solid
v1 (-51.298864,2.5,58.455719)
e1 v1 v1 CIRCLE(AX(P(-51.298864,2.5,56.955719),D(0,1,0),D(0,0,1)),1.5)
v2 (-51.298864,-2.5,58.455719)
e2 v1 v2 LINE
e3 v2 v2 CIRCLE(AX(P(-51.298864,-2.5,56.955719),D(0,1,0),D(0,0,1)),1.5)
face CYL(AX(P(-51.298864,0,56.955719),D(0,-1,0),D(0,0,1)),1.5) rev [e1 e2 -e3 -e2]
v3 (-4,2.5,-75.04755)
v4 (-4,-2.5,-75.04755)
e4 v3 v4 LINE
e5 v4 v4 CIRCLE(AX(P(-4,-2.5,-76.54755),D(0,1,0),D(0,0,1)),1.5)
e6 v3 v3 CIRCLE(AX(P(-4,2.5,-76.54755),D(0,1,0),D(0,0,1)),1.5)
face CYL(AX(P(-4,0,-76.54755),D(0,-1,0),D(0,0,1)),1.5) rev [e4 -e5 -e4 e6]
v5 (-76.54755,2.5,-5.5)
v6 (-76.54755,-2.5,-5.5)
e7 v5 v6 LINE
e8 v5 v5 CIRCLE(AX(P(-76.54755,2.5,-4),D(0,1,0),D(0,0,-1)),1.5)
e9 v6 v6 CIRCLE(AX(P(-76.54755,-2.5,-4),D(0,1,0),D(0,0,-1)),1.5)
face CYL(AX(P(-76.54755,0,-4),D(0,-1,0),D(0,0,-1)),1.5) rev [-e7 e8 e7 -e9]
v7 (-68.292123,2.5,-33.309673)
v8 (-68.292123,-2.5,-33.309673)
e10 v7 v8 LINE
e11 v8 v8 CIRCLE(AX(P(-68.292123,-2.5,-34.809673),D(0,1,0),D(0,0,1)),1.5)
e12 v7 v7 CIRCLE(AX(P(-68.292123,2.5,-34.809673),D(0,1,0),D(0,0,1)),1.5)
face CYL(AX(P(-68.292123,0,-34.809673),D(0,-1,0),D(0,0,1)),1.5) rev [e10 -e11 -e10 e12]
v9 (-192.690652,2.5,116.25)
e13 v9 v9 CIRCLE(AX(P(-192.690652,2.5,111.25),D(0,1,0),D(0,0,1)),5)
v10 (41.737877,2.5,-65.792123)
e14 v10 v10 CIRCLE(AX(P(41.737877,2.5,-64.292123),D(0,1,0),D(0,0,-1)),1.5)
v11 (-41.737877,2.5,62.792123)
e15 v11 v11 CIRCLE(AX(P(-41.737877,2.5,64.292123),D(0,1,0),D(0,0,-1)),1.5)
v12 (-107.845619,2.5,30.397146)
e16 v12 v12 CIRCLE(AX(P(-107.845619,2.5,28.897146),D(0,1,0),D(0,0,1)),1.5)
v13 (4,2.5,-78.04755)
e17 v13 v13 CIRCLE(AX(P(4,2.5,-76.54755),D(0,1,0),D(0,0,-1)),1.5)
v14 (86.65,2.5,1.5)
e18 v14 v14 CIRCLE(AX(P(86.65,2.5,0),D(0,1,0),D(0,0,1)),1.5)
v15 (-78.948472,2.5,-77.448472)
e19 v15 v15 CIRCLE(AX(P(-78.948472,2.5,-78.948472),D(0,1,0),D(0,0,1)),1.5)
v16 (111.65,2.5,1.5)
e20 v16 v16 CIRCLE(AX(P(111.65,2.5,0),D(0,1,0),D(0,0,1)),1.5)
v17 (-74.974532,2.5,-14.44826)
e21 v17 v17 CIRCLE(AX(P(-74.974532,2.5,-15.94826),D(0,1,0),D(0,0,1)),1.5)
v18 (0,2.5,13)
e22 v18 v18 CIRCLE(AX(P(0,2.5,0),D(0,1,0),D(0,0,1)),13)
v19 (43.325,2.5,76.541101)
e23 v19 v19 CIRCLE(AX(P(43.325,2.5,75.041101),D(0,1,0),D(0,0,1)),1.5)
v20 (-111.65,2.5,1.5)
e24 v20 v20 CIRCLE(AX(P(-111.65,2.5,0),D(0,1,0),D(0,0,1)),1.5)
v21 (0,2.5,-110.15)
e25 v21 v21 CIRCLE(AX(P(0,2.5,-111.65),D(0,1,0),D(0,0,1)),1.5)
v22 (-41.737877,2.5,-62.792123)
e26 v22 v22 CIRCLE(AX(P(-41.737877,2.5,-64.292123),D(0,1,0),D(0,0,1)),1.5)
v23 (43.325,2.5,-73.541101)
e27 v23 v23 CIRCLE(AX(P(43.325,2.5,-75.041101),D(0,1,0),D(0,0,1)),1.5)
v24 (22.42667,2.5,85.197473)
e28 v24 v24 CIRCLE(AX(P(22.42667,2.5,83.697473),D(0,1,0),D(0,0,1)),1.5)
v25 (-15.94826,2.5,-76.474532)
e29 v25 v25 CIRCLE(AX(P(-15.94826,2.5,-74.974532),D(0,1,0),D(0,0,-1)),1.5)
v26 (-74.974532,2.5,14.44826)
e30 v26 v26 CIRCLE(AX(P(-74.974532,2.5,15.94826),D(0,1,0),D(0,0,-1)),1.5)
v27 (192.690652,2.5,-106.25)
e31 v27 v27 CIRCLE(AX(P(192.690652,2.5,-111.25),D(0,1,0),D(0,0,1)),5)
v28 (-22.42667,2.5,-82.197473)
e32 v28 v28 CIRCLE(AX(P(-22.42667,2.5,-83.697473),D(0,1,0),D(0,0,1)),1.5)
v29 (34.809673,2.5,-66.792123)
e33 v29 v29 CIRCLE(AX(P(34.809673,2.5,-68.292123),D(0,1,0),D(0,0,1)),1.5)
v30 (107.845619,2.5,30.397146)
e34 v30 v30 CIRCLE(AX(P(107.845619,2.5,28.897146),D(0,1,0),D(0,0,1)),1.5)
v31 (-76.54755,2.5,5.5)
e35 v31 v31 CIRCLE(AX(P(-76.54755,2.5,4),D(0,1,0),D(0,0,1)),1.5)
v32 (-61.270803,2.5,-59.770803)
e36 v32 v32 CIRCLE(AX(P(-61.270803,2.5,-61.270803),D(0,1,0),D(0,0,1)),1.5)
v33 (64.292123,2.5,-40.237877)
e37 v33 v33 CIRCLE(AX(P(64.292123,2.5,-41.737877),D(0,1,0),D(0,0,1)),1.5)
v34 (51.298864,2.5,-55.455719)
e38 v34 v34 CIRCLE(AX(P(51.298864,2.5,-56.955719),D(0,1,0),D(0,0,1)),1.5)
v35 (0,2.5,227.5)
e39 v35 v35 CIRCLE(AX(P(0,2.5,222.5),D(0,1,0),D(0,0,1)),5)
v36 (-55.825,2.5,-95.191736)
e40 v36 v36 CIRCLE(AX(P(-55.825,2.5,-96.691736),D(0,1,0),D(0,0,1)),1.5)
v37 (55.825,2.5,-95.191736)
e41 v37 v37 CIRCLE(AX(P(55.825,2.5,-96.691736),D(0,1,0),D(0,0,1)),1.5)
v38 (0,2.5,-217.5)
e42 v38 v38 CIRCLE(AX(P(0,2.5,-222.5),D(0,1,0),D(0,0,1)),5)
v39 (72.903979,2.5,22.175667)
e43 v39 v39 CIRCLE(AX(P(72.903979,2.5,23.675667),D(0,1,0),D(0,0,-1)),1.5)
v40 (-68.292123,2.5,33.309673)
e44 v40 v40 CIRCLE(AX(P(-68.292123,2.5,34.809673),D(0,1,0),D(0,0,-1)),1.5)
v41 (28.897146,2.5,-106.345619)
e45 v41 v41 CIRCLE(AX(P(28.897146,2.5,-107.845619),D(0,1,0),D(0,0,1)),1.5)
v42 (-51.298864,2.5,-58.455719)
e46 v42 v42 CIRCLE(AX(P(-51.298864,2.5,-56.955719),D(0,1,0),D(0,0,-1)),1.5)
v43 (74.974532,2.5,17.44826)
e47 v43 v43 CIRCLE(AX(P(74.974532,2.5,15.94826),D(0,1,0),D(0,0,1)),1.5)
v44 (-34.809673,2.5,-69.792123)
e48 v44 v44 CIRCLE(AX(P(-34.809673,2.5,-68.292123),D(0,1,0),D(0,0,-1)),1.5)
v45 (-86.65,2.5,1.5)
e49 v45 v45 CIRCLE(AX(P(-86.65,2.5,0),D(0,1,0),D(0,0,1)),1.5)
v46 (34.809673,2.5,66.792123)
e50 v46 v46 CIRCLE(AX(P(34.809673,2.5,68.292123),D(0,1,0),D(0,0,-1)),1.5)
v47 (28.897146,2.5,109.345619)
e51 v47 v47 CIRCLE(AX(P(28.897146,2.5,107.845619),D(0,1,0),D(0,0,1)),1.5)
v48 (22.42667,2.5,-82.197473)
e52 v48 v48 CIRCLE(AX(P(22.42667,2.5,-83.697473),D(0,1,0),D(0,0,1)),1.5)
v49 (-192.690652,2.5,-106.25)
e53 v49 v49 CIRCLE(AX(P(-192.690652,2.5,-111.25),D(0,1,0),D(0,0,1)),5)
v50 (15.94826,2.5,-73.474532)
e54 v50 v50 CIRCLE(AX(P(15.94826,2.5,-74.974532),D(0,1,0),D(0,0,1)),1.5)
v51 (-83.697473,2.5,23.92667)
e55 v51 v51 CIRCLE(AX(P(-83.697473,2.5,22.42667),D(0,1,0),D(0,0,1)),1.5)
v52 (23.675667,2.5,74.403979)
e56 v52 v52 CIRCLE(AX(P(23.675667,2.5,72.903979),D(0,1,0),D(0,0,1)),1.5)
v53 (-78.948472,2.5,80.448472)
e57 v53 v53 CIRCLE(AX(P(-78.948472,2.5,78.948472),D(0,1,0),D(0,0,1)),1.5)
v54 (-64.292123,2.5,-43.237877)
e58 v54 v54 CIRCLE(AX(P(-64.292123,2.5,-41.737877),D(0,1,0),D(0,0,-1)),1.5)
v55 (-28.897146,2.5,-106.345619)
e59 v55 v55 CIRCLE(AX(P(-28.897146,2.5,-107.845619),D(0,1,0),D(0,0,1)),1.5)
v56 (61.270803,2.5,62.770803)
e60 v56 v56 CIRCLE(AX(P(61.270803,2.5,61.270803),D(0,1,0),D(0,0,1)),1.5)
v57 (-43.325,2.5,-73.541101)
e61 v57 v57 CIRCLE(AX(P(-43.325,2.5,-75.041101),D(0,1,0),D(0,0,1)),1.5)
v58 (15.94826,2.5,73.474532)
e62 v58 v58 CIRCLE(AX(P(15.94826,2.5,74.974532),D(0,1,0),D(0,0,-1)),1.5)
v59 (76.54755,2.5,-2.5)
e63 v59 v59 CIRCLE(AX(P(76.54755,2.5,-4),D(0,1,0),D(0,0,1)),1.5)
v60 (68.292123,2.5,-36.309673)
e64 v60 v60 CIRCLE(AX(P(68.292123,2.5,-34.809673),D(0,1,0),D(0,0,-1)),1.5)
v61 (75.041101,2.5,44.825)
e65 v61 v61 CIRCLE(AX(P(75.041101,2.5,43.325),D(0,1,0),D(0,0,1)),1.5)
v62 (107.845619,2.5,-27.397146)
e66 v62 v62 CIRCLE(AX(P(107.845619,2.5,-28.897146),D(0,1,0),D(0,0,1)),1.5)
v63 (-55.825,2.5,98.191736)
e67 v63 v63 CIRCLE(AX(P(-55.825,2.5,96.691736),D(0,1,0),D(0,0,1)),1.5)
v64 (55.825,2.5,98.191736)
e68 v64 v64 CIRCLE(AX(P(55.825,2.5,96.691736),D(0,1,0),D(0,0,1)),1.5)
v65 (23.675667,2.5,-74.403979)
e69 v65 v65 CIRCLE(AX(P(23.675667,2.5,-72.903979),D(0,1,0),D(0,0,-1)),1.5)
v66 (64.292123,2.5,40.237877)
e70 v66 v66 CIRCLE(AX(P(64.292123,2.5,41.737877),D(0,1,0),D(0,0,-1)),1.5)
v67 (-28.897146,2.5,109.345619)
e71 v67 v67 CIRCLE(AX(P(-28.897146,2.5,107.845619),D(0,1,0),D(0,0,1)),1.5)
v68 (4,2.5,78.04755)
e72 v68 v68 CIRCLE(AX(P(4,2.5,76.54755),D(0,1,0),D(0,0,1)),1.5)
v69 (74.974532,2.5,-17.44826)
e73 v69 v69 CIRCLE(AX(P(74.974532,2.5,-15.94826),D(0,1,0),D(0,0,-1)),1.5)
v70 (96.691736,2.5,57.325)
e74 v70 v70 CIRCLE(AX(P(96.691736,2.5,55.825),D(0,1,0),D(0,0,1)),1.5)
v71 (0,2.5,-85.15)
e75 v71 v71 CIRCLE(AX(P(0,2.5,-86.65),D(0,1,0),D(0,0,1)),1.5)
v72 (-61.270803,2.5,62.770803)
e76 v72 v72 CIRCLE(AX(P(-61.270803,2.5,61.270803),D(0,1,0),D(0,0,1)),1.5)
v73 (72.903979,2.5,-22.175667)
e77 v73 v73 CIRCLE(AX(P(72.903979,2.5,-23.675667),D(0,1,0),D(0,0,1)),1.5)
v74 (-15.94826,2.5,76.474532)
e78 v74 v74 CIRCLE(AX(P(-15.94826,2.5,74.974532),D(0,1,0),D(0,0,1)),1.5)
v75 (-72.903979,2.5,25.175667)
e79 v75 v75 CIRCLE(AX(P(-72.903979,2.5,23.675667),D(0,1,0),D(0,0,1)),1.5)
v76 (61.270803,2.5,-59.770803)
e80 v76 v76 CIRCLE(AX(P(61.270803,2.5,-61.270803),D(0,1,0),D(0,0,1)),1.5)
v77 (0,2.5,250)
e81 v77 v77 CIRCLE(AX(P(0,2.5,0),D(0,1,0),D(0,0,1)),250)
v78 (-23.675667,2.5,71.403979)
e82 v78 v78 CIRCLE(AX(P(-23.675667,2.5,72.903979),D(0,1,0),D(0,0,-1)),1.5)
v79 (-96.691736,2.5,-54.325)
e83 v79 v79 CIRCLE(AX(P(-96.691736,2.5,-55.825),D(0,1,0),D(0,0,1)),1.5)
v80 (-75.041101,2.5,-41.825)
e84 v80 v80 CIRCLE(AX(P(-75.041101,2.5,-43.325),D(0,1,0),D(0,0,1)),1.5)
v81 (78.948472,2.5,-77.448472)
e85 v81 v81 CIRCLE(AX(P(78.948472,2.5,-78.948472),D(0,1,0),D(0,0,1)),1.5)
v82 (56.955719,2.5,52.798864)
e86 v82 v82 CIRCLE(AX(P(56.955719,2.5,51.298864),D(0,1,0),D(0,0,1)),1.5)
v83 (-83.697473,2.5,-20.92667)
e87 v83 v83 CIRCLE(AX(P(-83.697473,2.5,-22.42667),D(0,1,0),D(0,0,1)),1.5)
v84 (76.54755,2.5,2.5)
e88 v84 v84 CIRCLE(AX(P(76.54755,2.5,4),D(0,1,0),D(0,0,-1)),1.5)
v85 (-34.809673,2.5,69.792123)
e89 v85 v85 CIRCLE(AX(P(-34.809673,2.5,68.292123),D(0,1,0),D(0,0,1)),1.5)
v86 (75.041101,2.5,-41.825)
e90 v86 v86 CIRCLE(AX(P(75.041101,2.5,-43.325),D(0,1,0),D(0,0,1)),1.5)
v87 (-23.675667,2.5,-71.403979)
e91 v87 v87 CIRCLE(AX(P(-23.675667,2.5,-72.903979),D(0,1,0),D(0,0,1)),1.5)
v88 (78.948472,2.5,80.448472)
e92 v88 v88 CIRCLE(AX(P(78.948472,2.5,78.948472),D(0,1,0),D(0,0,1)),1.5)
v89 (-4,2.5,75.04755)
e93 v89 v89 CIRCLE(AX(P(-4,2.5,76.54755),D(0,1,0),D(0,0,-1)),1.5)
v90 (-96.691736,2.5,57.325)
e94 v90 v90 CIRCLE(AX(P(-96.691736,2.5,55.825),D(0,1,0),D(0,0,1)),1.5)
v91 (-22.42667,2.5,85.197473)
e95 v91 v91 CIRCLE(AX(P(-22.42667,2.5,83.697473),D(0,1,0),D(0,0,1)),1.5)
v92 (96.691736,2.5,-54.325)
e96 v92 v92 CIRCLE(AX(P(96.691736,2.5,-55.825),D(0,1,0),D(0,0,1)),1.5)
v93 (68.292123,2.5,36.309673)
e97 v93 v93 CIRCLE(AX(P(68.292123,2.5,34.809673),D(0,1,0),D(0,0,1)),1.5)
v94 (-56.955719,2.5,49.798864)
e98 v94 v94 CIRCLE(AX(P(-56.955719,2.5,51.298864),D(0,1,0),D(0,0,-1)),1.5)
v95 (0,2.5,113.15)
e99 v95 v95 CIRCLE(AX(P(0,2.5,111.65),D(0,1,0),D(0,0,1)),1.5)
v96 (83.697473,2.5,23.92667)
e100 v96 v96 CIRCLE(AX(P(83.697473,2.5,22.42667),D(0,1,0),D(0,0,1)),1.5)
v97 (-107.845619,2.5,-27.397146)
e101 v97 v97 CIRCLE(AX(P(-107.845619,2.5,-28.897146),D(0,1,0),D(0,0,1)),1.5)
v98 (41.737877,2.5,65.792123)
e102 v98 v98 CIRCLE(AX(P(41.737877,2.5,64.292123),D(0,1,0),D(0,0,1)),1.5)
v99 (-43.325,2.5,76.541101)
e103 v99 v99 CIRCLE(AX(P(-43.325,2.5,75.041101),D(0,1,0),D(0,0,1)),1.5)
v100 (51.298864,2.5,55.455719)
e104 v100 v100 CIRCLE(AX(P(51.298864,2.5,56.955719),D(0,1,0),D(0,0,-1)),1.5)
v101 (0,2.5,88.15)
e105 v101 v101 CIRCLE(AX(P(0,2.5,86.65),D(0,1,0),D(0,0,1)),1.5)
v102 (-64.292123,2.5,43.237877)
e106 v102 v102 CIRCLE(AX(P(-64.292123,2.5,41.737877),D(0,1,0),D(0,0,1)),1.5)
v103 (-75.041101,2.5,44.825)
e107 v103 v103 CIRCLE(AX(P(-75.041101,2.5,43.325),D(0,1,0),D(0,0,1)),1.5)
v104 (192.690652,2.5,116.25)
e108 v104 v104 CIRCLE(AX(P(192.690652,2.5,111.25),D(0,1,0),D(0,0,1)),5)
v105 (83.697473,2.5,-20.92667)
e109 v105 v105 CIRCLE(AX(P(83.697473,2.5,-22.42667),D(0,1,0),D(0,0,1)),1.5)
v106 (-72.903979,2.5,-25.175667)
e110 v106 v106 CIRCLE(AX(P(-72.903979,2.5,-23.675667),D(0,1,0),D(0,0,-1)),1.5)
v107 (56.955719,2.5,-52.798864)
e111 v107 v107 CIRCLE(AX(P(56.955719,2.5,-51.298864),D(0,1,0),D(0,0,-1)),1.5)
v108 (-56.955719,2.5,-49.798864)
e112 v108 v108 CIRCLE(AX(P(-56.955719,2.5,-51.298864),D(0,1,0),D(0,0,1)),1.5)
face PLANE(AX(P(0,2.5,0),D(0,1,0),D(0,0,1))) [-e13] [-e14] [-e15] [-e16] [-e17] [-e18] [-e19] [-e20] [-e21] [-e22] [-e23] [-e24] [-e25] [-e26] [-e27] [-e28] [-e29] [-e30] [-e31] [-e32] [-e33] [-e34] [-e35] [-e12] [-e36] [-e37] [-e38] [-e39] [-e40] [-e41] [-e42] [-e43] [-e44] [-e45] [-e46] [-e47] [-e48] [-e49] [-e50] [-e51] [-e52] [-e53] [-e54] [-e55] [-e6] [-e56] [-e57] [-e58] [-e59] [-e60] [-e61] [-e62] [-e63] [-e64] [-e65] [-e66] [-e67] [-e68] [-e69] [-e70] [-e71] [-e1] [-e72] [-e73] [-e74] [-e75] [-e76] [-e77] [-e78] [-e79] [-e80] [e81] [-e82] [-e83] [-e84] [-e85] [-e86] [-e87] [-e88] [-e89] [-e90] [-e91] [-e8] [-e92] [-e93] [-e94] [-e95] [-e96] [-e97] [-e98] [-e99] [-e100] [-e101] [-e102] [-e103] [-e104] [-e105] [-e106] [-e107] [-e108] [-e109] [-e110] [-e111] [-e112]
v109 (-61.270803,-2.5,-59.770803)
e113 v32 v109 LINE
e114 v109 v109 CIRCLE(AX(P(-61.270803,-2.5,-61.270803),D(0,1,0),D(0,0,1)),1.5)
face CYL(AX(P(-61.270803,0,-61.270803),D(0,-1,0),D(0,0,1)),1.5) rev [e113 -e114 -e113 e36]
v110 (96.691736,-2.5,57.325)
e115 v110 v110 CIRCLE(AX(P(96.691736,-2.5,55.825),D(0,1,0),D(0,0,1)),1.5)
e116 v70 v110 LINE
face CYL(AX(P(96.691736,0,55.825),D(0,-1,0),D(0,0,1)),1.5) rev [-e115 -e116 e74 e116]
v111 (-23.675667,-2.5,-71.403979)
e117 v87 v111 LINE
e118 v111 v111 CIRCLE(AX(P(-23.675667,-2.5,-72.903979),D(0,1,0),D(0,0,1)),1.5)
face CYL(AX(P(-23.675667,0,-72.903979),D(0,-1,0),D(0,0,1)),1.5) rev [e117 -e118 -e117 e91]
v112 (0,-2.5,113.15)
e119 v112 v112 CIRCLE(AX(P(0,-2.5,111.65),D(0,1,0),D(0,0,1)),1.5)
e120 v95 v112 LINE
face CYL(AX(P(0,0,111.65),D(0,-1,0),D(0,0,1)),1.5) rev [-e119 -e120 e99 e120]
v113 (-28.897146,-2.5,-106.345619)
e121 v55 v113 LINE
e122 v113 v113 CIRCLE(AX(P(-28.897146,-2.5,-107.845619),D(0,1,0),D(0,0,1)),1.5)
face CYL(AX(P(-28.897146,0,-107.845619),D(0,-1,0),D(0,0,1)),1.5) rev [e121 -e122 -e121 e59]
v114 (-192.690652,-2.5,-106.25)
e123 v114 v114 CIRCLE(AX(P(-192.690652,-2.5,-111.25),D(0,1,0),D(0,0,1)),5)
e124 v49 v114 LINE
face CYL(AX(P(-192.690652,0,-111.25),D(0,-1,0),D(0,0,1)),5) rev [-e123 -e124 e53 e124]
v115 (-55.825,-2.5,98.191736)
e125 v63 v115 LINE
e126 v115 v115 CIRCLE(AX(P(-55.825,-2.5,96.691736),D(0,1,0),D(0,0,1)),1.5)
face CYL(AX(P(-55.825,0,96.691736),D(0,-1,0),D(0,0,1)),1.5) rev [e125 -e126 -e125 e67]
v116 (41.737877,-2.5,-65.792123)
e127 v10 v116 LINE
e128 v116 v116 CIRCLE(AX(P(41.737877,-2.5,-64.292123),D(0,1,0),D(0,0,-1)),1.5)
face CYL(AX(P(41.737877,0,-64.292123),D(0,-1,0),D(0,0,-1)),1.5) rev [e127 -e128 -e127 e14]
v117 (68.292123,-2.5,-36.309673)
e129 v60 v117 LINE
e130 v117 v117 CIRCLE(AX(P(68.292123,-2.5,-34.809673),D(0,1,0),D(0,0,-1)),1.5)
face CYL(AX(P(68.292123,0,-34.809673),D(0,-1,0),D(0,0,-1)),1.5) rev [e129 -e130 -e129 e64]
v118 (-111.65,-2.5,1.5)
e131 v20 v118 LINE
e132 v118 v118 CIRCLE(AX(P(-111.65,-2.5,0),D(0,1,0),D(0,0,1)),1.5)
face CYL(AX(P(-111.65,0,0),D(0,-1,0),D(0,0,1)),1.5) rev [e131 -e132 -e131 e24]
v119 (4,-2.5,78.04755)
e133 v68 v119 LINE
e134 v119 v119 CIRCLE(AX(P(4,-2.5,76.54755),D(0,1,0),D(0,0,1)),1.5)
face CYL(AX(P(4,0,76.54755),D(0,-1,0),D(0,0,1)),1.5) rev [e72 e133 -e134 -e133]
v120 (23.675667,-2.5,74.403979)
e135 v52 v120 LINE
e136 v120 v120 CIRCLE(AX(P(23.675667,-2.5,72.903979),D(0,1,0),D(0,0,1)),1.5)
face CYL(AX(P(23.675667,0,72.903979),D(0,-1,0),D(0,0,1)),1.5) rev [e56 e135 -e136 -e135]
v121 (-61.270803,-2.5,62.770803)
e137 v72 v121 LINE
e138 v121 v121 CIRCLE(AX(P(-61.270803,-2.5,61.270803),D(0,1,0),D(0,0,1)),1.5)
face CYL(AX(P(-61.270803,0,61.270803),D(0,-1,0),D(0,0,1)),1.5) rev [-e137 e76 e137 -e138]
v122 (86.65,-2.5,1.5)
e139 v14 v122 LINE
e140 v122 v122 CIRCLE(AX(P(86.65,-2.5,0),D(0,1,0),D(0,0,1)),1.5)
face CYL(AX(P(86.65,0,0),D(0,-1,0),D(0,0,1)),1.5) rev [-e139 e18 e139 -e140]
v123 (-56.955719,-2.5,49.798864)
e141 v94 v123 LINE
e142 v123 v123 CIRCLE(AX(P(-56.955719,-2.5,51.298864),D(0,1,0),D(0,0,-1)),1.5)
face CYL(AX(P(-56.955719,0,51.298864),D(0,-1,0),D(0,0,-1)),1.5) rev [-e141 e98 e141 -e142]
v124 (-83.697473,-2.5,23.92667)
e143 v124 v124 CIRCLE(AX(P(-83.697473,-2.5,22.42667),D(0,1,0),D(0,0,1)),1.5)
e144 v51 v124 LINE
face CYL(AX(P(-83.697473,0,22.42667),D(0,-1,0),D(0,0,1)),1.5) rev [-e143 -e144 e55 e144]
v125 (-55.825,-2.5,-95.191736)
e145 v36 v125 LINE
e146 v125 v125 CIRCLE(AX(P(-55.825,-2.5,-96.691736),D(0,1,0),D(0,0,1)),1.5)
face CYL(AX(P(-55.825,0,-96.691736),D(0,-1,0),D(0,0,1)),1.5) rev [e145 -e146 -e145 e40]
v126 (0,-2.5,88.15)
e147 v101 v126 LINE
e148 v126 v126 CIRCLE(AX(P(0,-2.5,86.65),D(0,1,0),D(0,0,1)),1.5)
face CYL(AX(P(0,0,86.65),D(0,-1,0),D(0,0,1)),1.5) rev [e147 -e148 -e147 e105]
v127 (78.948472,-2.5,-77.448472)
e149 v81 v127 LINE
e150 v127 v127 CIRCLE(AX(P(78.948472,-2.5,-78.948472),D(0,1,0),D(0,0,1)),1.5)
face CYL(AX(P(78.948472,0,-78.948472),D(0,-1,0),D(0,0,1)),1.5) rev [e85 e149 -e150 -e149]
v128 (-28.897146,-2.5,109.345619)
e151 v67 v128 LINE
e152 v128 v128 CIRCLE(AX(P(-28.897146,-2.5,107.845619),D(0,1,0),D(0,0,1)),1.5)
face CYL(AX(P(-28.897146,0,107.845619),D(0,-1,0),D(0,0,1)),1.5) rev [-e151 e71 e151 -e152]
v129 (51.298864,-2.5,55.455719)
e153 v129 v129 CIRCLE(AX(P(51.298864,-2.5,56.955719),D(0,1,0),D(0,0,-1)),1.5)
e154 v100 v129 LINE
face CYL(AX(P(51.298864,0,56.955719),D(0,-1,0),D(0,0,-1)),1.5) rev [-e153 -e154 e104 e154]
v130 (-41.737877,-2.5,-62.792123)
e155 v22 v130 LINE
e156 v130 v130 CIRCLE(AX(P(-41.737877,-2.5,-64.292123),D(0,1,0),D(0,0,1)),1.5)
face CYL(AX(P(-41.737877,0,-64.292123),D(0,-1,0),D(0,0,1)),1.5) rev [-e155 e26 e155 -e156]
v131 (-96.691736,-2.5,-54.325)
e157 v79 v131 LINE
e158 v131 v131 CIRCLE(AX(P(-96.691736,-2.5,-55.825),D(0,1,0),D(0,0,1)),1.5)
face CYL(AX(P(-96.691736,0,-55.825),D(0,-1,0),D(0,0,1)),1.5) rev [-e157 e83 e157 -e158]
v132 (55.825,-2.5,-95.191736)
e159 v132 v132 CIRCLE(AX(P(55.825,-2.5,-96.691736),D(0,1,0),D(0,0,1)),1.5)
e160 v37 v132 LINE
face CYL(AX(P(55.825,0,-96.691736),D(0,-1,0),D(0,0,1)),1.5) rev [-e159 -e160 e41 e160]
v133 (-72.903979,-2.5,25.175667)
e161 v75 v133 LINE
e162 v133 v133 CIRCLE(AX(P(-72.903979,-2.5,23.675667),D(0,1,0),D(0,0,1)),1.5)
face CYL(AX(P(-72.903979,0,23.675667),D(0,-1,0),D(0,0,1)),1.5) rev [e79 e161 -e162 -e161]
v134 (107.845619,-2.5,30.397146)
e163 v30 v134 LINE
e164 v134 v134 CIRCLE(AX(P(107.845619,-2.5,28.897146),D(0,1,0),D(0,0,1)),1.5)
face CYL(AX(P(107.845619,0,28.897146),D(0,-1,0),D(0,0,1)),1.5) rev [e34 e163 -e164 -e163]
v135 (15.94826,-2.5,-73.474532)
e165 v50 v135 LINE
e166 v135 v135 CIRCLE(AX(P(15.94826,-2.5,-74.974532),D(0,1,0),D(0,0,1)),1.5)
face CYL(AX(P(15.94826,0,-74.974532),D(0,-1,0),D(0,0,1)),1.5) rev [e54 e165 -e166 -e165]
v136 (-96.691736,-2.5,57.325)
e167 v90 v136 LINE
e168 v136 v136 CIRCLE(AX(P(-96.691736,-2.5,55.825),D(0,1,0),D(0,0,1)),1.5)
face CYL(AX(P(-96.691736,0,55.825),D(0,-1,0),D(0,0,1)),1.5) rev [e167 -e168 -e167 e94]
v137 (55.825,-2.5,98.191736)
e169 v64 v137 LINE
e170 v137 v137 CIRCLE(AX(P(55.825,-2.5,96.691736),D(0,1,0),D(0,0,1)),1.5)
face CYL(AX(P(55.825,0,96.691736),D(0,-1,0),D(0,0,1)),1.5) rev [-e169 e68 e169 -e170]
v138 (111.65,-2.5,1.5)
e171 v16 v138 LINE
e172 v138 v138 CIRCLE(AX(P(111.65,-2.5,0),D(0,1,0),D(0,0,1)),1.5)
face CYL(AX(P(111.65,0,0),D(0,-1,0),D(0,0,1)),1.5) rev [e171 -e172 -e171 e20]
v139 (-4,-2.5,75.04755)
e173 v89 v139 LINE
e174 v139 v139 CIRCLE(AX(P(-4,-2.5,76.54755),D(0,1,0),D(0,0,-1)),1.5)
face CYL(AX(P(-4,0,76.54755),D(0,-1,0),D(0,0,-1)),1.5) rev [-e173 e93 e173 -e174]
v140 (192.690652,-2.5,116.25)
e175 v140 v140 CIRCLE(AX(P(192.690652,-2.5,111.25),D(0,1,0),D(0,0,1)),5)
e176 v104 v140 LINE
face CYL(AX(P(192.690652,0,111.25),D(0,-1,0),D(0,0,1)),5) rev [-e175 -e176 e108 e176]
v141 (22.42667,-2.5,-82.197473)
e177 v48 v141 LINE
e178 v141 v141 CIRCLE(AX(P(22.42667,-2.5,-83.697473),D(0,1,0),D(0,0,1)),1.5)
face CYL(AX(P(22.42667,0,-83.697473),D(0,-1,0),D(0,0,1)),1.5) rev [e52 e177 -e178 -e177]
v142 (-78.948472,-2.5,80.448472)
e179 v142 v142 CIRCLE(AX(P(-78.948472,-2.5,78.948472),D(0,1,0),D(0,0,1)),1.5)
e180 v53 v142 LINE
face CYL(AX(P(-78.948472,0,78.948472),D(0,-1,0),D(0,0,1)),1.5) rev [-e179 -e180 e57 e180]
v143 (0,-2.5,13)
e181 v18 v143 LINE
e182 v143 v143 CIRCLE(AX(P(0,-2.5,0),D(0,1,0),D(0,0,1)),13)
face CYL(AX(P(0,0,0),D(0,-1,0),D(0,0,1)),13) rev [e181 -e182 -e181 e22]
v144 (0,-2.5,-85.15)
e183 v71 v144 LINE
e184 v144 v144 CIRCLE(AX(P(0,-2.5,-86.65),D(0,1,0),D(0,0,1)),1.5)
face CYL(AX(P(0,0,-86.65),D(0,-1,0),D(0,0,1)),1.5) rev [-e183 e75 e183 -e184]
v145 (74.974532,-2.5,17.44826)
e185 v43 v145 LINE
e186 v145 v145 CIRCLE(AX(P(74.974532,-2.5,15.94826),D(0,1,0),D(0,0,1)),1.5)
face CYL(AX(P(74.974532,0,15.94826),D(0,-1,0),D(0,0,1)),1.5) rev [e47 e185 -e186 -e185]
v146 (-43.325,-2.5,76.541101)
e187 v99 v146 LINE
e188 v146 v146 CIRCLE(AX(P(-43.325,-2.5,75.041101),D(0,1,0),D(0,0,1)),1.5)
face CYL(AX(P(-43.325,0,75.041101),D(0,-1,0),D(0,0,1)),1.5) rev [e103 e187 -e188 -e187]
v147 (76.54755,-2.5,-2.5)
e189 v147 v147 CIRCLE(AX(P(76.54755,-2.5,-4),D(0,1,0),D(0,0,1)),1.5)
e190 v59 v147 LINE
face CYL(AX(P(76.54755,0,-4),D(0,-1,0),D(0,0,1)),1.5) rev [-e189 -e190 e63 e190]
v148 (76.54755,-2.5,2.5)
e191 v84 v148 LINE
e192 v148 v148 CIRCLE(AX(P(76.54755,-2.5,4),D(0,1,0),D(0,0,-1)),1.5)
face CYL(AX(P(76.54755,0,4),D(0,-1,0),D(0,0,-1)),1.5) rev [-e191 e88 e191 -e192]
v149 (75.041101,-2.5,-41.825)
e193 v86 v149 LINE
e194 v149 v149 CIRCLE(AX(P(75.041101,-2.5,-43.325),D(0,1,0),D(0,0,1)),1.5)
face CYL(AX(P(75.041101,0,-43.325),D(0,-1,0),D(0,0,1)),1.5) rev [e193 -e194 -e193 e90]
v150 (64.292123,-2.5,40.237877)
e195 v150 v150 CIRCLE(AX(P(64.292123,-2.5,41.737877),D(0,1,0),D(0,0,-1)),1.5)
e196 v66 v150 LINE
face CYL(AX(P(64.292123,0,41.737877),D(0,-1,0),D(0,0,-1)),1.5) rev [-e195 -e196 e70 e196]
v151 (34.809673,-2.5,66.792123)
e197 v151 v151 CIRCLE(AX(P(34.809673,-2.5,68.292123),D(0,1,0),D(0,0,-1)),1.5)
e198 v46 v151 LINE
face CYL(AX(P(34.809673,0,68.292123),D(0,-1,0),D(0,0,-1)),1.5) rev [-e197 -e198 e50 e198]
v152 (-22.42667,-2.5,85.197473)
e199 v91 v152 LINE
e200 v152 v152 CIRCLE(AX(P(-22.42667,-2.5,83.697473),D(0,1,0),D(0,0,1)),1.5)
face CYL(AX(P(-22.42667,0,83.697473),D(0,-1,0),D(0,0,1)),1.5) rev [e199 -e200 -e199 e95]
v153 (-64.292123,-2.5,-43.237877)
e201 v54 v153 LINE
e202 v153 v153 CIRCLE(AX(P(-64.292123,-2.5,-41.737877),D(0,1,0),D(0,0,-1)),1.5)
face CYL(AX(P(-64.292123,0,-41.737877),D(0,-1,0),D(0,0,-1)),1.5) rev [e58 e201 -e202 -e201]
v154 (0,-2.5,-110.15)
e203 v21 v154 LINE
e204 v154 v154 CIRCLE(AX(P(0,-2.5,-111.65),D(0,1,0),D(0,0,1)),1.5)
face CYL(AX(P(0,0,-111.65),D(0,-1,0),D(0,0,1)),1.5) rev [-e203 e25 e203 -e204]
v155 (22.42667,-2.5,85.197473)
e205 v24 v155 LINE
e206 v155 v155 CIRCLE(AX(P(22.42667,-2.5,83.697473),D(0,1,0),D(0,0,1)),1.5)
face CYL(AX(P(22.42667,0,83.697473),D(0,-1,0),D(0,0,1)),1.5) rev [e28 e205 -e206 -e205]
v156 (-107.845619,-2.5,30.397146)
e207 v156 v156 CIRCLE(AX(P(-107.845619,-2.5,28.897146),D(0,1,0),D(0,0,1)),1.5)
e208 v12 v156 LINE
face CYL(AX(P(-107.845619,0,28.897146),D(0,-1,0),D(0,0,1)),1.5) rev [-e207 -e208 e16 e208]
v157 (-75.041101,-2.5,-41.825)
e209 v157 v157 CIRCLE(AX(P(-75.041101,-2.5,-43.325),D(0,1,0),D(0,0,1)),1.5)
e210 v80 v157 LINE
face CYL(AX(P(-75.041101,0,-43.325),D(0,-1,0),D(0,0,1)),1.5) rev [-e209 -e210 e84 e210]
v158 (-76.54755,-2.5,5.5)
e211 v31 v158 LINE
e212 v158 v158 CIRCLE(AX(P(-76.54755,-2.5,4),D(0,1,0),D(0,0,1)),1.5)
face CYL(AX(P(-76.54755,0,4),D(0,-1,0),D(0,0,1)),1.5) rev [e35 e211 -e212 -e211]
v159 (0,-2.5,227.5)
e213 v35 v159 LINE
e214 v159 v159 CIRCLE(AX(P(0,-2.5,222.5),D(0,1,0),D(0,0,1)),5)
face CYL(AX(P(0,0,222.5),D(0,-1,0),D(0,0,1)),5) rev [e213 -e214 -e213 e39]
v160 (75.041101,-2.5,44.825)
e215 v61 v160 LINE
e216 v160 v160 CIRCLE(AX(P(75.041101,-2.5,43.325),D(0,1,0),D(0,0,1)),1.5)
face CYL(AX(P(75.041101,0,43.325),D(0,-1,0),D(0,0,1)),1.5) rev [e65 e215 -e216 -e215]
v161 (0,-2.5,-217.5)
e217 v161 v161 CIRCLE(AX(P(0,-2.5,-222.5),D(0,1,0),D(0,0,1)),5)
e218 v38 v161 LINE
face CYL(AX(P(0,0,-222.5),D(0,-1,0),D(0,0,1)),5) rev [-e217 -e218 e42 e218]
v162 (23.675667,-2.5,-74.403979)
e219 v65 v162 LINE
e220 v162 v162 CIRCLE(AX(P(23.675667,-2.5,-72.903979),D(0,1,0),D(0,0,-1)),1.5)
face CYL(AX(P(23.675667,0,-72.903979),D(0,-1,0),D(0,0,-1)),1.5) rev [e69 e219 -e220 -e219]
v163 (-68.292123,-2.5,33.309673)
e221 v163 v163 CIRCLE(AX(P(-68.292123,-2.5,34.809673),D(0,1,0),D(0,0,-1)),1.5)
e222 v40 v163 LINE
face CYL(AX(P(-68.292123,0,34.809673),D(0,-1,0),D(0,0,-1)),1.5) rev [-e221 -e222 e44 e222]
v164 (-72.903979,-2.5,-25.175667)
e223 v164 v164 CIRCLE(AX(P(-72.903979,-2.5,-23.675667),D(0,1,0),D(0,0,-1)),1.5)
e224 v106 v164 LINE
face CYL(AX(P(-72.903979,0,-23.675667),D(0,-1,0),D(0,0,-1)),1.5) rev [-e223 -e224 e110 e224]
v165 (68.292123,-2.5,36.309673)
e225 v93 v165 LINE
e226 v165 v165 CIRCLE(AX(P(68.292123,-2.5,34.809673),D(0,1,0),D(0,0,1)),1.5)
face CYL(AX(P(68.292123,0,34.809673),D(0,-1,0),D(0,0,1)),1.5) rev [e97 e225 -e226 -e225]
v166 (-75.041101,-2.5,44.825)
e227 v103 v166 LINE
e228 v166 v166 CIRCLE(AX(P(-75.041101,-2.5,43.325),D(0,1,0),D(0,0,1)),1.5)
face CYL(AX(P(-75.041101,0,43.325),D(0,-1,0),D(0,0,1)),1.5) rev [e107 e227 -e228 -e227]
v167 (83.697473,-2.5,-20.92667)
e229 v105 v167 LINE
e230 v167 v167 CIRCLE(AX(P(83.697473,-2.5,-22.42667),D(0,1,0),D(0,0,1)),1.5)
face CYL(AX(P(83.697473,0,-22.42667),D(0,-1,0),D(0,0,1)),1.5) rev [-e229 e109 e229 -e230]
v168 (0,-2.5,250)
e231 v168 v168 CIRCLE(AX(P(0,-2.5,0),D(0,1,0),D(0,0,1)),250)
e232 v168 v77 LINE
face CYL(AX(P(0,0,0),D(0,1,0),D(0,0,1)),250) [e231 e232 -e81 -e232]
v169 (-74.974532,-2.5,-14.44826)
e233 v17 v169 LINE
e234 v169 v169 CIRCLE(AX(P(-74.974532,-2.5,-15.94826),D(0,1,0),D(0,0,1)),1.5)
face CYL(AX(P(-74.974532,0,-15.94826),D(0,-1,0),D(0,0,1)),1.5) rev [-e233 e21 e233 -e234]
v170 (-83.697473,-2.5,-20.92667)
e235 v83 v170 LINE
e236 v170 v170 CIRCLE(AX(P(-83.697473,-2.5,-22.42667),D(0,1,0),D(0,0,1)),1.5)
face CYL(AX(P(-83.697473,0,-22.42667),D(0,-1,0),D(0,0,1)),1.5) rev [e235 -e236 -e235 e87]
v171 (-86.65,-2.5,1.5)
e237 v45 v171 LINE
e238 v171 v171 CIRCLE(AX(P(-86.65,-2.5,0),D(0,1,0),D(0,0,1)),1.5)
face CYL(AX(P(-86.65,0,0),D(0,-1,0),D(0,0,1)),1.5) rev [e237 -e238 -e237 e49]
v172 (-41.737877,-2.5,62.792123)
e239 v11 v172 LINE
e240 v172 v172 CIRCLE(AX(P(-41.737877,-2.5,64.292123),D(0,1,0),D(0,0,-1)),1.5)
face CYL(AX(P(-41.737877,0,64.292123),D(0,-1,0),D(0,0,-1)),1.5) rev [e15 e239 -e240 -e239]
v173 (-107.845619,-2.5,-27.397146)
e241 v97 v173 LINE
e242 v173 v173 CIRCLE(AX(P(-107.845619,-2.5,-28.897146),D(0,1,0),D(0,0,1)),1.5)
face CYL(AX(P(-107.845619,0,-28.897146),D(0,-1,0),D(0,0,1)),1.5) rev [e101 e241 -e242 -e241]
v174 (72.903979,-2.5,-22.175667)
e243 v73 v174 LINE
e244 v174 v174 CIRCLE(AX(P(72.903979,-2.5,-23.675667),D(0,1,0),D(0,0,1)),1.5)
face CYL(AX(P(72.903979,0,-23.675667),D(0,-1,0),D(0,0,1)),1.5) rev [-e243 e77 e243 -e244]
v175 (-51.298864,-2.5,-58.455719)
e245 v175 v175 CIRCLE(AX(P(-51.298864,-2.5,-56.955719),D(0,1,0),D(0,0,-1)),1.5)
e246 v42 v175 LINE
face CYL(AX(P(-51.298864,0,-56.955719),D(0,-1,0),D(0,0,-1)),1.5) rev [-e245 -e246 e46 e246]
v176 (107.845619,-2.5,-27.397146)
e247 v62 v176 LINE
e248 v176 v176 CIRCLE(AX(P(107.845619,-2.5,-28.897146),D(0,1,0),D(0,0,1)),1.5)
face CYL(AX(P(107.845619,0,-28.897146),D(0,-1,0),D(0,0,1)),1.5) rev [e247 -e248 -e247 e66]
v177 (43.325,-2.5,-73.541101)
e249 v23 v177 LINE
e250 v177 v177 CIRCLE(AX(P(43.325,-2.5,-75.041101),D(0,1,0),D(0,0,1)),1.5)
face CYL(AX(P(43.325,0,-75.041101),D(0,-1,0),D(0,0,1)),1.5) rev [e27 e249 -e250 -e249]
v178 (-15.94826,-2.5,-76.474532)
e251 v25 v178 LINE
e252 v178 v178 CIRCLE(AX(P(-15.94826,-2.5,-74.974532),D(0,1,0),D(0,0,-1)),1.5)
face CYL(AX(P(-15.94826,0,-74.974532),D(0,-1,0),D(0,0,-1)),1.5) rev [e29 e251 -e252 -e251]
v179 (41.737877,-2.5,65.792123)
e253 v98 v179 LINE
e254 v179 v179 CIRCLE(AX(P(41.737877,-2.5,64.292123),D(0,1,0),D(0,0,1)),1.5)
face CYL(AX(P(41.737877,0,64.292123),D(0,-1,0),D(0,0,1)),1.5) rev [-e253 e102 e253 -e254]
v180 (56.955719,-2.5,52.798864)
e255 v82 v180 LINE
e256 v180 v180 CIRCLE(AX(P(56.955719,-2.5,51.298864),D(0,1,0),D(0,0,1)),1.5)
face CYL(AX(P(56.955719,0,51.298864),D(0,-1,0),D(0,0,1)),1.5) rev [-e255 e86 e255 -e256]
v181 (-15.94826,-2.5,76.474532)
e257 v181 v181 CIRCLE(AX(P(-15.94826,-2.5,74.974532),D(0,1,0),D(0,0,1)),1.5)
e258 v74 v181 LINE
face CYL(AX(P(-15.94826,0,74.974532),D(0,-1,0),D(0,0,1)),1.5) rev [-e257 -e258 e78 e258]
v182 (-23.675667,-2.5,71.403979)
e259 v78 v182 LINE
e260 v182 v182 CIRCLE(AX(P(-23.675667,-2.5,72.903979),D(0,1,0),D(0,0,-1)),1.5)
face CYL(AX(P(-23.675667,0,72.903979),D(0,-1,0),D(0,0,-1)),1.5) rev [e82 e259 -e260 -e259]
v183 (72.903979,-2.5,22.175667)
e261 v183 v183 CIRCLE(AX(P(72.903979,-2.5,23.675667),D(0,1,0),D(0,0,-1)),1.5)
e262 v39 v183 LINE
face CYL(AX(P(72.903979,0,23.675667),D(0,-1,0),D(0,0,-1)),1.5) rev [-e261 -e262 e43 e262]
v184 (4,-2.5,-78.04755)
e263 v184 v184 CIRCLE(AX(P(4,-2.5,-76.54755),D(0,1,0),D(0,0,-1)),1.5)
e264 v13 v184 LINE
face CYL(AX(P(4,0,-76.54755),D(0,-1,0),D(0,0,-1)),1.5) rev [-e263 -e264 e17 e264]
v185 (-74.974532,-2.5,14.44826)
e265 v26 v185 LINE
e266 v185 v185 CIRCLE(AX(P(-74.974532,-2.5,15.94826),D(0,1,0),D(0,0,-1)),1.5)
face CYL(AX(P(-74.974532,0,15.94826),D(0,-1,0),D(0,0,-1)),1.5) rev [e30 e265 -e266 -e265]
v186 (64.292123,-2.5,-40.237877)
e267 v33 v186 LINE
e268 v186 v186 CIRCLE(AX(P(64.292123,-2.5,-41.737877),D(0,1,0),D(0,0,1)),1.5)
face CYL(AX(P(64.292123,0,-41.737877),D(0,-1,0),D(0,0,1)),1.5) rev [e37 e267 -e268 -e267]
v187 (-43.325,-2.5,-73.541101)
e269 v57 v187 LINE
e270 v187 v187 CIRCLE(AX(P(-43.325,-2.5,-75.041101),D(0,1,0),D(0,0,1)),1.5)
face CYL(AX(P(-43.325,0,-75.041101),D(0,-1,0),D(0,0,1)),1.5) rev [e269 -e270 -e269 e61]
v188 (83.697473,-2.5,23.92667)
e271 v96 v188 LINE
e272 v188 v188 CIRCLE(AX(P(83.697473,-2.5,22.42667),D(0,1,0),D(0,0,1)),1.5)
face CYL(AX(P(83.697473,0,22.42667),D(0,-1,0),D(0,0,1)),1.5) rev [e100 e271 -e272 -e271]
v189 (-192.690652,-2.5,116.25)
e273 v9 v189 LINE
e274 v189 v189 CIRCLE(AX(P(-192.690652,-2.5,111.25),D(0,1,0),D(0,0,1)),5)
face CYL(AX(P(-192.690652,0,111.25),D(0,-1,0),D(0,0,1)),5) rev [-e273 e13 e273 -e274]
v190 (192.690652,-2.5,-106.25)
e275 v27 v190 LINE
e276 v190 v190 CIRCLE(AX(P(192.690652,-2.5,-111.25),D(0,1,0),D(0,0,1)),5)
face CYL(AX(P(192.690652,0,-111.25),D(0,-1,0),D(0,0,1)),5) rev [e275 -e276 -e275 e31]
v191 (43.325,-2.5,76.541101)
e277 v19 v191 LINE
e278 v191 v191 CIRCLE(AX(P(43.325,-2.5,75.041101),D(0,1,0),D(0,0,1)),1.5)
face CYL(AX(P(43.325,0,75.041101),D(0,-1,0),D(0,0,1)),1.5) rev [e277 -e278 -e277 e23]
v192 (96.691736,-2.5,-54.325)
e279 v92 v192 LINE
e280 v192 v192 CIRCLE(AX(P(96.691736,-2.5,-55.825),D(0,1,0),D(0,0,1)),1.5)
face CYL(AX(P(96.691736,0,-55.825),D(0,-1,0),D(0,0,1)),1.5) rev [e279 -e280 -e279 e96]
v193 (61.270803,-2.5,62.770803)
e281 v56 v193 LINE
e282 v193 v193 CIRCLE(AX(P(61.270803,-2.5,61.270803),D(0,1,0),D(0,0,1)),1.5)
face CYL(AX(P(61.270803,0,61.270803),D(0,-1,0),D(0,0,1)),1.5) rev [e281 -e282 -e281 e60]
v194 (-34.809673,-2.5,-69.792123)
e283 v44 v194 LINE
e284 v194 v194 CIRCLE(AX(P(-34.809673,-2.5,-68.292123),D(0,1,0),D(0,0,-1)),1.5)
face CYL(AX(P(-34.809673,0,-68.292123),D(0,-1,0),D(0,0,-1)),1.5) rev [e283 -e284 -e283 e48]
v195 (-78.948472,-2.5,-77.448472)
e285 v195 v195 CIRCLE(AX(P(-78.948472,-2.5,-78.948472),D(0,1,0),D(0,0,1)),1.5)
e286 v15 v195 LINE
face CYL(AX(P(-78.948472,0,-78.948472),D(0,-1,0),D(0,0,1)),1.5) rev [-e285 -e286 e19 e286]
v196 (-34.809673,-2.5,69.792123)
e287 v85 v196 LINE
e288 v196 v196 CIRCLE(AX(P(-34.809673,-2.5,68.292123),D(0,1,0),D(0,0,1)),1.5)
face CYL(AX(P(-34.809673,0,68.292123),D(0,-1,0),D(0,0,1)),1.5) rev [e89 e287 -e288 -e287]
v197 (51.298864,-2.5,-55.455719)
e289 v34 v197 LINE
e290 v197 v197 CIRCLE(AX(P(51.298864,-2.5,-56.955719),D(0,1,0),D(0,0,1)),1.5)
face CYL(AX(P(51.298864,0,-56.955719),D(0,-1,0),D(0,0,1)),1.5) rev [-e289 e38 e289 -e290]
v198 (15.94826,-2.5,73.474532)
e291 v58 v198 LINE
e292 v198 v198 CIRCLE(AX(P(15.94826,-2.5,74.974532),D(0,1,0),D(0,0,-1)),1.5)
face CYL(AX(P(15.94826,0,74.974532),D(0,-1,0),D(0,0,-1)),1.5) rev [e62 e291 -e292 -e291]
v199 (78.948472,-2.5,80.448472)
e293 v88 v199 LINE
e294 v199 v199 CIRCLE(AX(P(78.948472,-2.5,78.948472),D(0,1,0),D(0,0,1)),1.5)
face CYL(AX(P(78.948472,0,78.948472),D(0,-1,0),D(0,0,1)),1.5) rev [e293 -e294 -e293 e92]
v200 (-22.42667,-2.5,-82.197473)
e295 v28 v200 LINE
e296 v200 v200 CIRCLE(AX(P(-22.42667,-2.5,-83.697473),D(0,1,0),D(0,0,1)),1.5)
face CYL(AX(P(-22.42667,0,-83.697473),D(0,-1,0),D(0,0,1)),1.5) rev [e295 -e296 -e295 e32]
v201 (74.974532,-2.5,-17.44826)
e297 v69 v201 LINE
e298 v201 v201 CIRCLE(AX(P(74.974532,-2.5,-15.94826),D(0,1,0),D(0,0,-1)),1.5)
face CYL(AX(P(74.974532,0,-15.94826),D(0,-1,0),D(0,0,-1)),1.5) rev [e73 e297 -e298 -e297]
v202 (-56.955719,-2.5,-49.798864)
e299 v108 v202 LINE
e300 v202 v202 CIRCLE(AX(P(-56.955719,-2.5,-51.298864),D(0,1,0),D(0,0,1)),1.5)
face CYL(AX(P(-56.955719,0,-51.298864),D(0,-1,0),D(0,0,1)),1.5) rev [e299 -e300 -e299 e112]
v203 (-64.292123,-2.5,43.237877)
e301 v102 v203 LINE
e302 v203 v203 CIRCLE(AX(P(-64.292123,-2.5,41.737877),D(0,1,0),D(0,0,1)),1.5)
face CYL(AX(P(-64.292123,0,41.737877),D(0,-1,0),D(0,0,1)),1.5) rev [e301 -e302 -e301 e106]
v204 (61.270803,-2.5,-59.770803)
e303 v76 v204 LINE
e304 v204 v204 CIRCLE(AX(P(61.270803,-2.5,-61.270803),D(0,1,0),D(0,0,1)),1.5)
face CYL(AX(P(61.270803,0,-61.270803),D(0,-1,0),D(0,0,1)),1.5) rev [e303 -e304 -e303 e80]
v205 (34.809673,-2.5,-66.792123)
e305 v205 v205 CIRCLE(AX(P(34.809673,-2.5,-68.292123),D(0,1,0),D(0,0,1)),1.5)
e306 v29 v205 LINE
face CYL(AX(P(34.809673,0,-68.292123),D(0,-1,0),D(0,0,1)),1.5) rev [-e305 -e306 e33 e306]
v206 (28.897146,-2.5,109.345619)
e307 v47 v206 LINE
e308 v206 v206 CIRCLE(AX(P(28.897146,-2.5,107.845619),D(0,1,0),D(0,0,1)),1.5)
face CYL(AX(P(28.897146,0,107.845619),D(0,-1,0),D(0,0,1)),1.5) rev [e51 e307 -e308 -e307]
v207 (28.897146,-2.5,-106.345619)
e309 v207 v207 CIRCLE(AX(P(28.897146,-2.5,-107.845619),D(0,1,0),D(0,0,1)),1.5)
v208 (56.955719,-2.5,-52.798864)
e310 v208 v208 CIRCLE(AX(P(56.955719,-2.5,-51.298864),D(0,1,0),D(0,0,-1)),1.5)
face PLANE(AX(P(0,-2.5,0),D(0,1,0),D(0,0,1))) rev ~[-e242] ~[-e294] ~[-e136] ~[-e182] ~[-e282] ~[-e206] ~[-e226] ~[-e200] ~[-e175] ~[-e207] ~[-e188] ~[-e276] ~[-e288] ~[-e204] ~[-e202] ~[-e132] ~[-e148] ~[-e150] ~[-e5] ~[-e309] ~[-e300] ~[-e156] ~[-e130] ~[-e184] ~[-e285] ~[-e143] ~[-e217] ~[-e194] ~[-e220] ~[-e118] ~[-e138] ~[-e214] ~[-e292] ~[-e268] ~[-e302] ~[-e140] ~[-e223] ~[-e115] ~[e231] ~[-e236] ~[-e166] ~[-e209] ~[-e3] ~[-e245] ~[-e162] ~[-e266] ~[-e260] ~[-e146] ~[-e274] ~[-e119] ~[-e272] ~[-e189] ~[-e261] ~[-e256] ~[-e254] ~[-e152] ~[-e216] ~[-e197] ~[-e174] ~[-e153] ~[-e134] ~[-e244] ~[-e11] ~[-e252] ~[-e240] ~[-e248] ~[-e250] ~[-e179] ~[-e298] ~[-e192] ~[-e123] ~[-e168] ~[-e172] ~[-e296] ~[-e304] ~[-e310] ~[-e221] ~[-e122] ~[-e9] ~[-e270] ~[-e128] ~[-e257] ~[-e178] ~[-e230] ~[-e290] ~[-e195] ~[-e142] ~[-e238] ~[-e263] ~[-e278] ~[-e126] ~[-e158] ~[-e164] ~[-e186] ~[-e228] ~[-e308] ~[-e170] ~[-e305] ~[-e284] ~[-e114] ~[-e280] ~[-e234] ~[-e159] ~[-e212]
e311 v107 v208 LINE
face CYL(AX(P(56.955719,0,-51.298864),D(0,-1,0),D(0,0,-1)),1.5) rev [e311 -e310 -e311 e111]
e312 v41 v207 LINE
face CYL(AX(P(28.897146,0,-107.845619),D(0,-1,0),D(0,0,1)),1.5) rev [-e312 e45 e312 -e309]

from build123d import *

# Parameters (mm, degrees)
SKETCH1_R           = 250
SKETCH1_R_2         = 1.5
SKETCH1_R_3         = 13
SKETCH1_R_4         = 5
BOSS_EXTRUDE1_DEPTH = 2.5


with BuildPart() as part:
    # Sketch1 → Boss-Extrude1 (new, symmetric)
    with BuildSketch(Plane(origin=(0, 0, 0), x_dir=(1, 0, 0), z_dir=(0, 1, 0))):
        with Locations(Location((0, 0, 0), (0, 0, 270))):
            Circle(SKETCH1_R)
        with Locations(Location((-4, 76.547549861, 0), (0, 0, 270))):
            Circle(SKETCH1_R_2, mode=Mode.SUBTRACT)
        with Locations(Location((4, 76.547549861, 0), (0, 0, 90))):
            Circle(SKETCH1_R_2, mode=Mode.SUBTRACT)
        with Locations(Location((15.948260455, 74.97453153, 0), (0, 0, 270))):
            Circle(SKETCH1_R_2, mode=Mode.SUBTRACT)
        with Locations(Location((23.675667065, 72.903979169, 0), (0, 0, 90))):
            Circle(SKETCH1_R_2, mode=Mode.SUBTRACT)
        with Locations(Location((34.809673315, 68.292122777, 0), (0, 0, 270))):
            Circle(SKETCH1_R_2, mode=Mode.SUBTRACT)
        with Locations(Location((41.737876545, 64.292122777, 0), (0, 0, 90))):
            Circle(SKETCH1_R_2, mode=Mode.SUBTRACT)
        with Locations(Location((51.298864465, 56.955718714, 0), (0, 0, 270))):
            Circle(SKETCH1_R_2, mode=Mode.SUBTRACT)
        with Locations(Location((56.955718714, 51.298864465, 0), (0, 0, 90))):
            Circle(SKETCH1_R_2, mode=Mode.SUBTRACT)
        with Locations(Location((64.292122777, 41.737876545, 0), (0, 0, 270))):
            Circle(SKETCH1_R_2, mode=Mode.SUBTRACT)
        with Locations(Location((68.292122777, 34.809673315, 0), (0, 0, 90))):
            Circle(SKETCH1_R_2, mode=Mode.SUBTRACT)
        with Locations(Location((72.903979169, 23.675667065, 0), (0, 0, 270))):
            Circle(SKETCH1_R_2, mode=Mode.SUBTRACT)
        with Locations(Location((74.97453153, 15.948260455, 0), (0, 0, 90))):
            Circle(SKETCH1_R_2, mode=Mode.SUBTRACT)
        with Locations(Location((76.547549861, 4, 0), (0, 0, 270))):
            Circle(SKETCH1_R_2, mode=Mode.SUBTRACT)
        with Locations(Location((76.547549861, -4, 0), (0, 0, 90))):
            Circle(SKETCH1_R_2, mode=Mode.SUBTRACT)
        with Locations(Location((74.97453153, -15.948260455, 0), (0, 0, 270))):
            Circle(SKETCH1_R_2, mode=Mode.SUBTRACT)
        with Locations(Location((72.903979169, -23.675667065, 0), (0, 0, 90))):
            Circle(SKETCH1_R_2, mode=Mode.SUBTRACT)
        with Locations(Location((68.292122777, -34.809673315, 0), (0, 0, 270))):
            Circle(SKETCH1_R_2, mode=Mode.SUBTRACT)
        with Locations(Location((64.292122777, -41.737876545, 0), (0, 0, 90))):
            Circle(SKETCH1_R_2, mode=Mode.SUBTRACT)
        with Locations(Location((56.955718714, -51.298864465, 0), (0, 0, 270))):
            Circle(SKETCH1_R_2, mode=Mode.SUBTRACT)
        with Locations(Location((51.298864465, -56.955718714, 0), (0, 0, 90))):
            Circle(SKETCH1_R_2, mode=Mode.SUBTRACT)
        with Locations(Location((41.737876545, -64.292122777, 0), (0, 0, 270))):
            Circle(SKETCH1_R_2, mode=Mode.SUBTRACT)
        with Locations(Location((34.809673315, -68.292122777, 0), (0, 0, 90))):
            Circle(SKETCH1_R_2, mode=Mode.SUBTRACT)
        with Locations(Location((23.675667065, -72.903979169, 0), (0, 0, 270))):
            Circle(SKETCH1_R_2, mode=Mode.SUBTRACT)
        with Locations(Location((15.948260455, -74.97453153, 0), (0, 0, 90))):
            Circle(SKETCH1_R_2, mode=Mode.SUBTRACT)
        with Locations(Location((4, -76.547549861, 0), (0, 0, 270))):
            Circle(SKETCH1_R_2, mode=Mode.SUBTRACT)
        with Locations(Location((-4, -76.547549861, 0), (0, 0, 90))):
            Circle(SKETCH1_R_2, mode=Mode.SUBTRACT)
        with Locations(Location((-15.948260455, -74.97453153, 0), (0, 0, 270))):
            Circle(SKETCH1_R_2, mode=Mode.SUBTRACT)
        with Locations(Location((-23.675667065, -72.903979169, 0), (0, 0, 90))):
            Circle(SKETCH1_R_2, mode=Mode.SUBTRACT)
        with Locations(Location((-34.809673315, -68.292122777, 0), (0, 0, 270))):
            Circle(SKETCH1_R_2, mode=Mode.SUBTRACT)
        with Locations(Location((-41.737876545, -64.292122777, 0), (0, 0, 90))):
            Circle(SKETCH1_R_2, mode=Mode.SUBTRACT)
        with Locations(Location((-51.298864465, -56.955718714, 0), (0, 0, 270))):
            Circle(SKETCH1_R_2, mode=Mode.SUBTRACT)
        with Locations(Location((-56.955718714, -51.298864465, 0), (0, 0, 90))):
            Circle(SKETCH1_R_2, mode=Mode.SUBTRACT)
        with Locations(Location((-64.292122777, -41.737876545, 0), (0, 0, 270))):
            Circle(SKETCH1_R_2, mode=Mode.SUBTRACT)
        with Locations(Location((-68.292122777, -34.809673315, 0), (0, 0, 90))):
            Circle(SKETCH1_R_2, mode=Mode.SUBTRACT)
        with Locations(Location((-72.903979169, -23.675667065, 0), (0, 0, 270))):
            Circle(SKETCH1_R_2, mode=Mode.SUBTRACT)
        with Locations(Location((-74.97453153, -15.948260455, 0), (0, 0, 90))):
            Circle(SKETCH1_R_2, mode=Mode.SUBTRACT)
        with Locations(Location((-76.54754986, -4, 0), (0, 0, 270))):
            Circle(SKETCH1_R_2, mode=Mode.SUBTRACT)
        with Locations(Location((-76.54754986, 4, 0), (0, 0, 90))):
            Circle(SKETCH1_R_2, mode=Mode.SUBTRACT)
        with Locations(Location((-74.97453153, 15.948260455, 0), (0, 0, 270))):
            Circle(SKETCH1_R_2, mode=Mode.SUBTRACT)
        with Locations(Location((-72.903979169, 23.675667065, 0), (0, 0, 90))):
            Circle(SKETCH1_R_2, mode=Mode.SUBTRACT)
        with Locations(Location((-68.292122777, 34.809673315, 0), (0, 0, 270))):
            Circle(SKETCH1_R_2, mode=Mode.SUBTRACT)
        with Locations(Location((-64.292122777, 41.737876545, 0), (0, 0, 90))):
            Circle(SKETCH1_R_2, mode=Mode.SUBTRACT)
        with Locations(Location((-56.955718714, 51.298864465, 0), (0, 0, 270))):
            Circle(SKETCH1_R_2, mode=Mode.SUBTRACT)
        with Locations(Location((-51.298864465, 56.955718714, 0), (0, 0, 90))):
            Circle(SKETCH1_R_2, mode=Mode.SUBTRACT)
        with Locations(Location((-41.737876545, 64.292122777, 0), (0, 0, 270))):
            Circle(SKETCH1_R_2, mode=Mode.SUBTRACT)
        with Locations(Location((-34.809673315, 68.292122777, 0), (0, 0, 90))):
            Circle(SKETCH1_R_2, mode=Mode.SUBTRACT)
        with Locations(Location((-23.675667065, 72.903979169, 0), (0, 0, 270))):
            Circle(SKETCH1_R_2, mode=Mode.SUBTRACT)
        with Locations(Location((-15.948260455, 74.97453153, 0), (0, 0, 90))):
            Circle(SKETCH1_R_2, mode=Mode.SUBTRACT)
        with Locations(Location((0, 0, 0), (0, 0, 270))):
            Circle(SKETCH1_R_3, mode=Mode.SUBTRACT)
        with Locations(Location((86.65, 0, 0), (0, 0, 270))):
            Circle(SKETCH1_R_2, mode=Mode.SUBTRACT)
        with Locations(Location((111.65, 0, 0), (0, 0, 270))):
            Circle(SKETCH1_R_2, mode=Mode.SUBTRACT)
        with Locations(Location((107.845618505, -28.897146386, 0), (0, 0, 270))):
            Circle(SKETCH1_R_2, mode=Mode.SUBTRACT)
        with Locations(Location((96.691736333, -55.825, 0), (0, 0, 270))):
            Circle(SKETCH1_R_2, mode=Mode.SUBTRACT)
        with Locations(Location((78.948472119, -78.948472119, 0), (0, 0, 270))):
            Circle(SKETCH1_R_2, mode=Mode.SUBTRACT)
        with Locations(Location((55.825, -96.691736333, 0), (0, 0, 270))):
            Circle(SKETCH1_R_2, mode=Mode.SUBTRACT)
        with Locations(Location((28.897146386, -107.845618505, 0), (0, 0, 270))):
            Circle(SKETCH1_R_2, mode=Mode.SUBTRACT)
        with Locations(Location((0, -111.65, 0), (0, 0, 270))):
            Circle(SKETCH1_R_2, mode=Mode.SUBTRACT)
        with Locations(Location((-28.897146386, -107.845618505, 0), (0, 0, 270))):
            Circle(SKETCH1_R_2, mode=Mode.SUBTRACT)
        with Locations(Location((-55.825, -96.691736333, 0), (0, 0, 270))):
            Circle(SKETCH1_R_2, mode=Mode.SUBTRACT)
        with Locations(Location((-78.948472119, -78.948472119, 0), (0, 0, 270))):
            Circle(SKETCH1_R_2, mode=Mode.SUBTRACT)
        with Locations(Location((-96.691736333, -55.825, 0), (0, 0, 270))):
            Circle(SKETCH1_R_2, mode=Mode.SUBTRACT)
        with Locations(Location((-107.845618505, -28.897146386, 0), (0, 0, 270))):
            Circle(SKETCH1_R_2, mode=Mode.SUBTRACT)
        with Locations(Location((-111.65, 0, 0), (0, 0, 270))):
            Circle(SKETCH1_R_2, mode=Mode.SUBTRACT)
        with Locations(Location((-107.845618505, 28.897146386, 0), (0, 0, 270))):
            Circle(SKETCH1_R_2, mode=Mode.SUBTRACT)
        with Locations(Location((-96.691736333, 55.825, 0), (0, 0, 270))):
            Circle(SKETCH1_R_2, mode=Mode.SUBTRACT)
        with Locations(Location((-78.948472119, 78.948472119, 0), (0, 0, 270))):
            Circle(SKETCH1_R_2, mode=Mode.SUBTRACT)
        with Locations(Location((-55.825, 96.691736333, 0), (0, 0, 270))):
            Circle(SKETCH1_R_2, mode=Mode.SUBTRACT)
        with Locations(Location((-28.897146386, 107.845618505, 0), (0, 0, 270))):
            Circle(SKETCH1_R_2, mode=Mode.SUBTRACT)
        with Locations(Location((0, 111.65, 0), (0, 0, 270))):
            Circle(SKETCH1_R_2, mode=Mode.SUBTRACT)
        with Locations(Location((28.897146386, 107.845618505, 0), (0, 0, 270))):
            Circle(SKETCH1_R_2, mode=Mode.SUBTRACT)
        with Locations(Location((55.825, 96.691736333, 0), (0, 0, 270))):
            Circle(SKETCH1_R_2, mode=Mode.SUBTRACT)
        with Locations(Location((78.948472119, 78.948472119, 0), (0, 0, 270))):
            Circle(SKETCH1_R_2, mode=Mode.SUBTRACT)
        with Locations(Location((96.691736333, 55.825, 0), (0, 0, 270))):
            Circle(SKETCH1_R_2, mode=Mode.SUBTRACT)
        with Locations(Location((107.845618505, 28.897146386, 0), (0, 0, 270))):
            Circle(SKETCH1_R_2, mode=Mode.SUBTRACT)
        with Locations(Location((83.697472848, -22.426670258, 0), (0, 0, 270))):
            Circle(SKETCH1_R_2, mode=Mode.SUBTRACT)
        with Locations(Location((75.041101238, -43.325, 0), (0, 0, 270))):
            Circle(SKETCH1_R_2, mode=Mode.SUBTRACT)
        with Locations(Location((61.27080259, -61.27080259, 0), (0, 0, 270))):
            Circle(SKETCH1_R_2, mode=Mode.SUBTRACT)
        with Locations(Location((43.325, -75.041101238, 0), (0, 0, 270))):
            Circle(SKETCH1_R_2, mode=Mode.SUBTRACT)
        with Locations(Location((22.426670258, -83.697472848, 0), (0, 0, 270))):
            Circle(SKETCH1_R_2, mode=Mode.SUBTRACT)
        with Locations(Location((0, -86.65, 0), (0, 0, 270))):
            Circle(SKETCH1_R_2, mode=Mode.SUBTRACT)
        with Locations(Location((-22.426670258, -83.697472848, 0), (0, 0, 270))):
            Circle(SKETCH1_R_2, mode=Mode.SUBTRACT)
        with Locations(Location((-43.325, -75.041101238, 0), (0, 0, 270))):
            Circle(SKETCH1_R_2, mode=Mode.SUBTRACT)
        with Locations(Location((-61.27080259, -61.27080259, 0), (0, 0, 270))):
            Circle(SKETCH1_R_2, mode=Mode.SUBTRACT)
        with Locations(Location((-75.041101238, -43.325, 0), (0, 0, 270))):
            Circle(SKETCH1_R_2, mode=Mode.SUBTRACT)
        with Locations(Location((-83.697472848, -22.426670258, 0), (0, 0, 270))):
            Circle(SKETCH1_R_2, mode=Mode.SUBTRACT)
        with Locations(Location((-86.65, 0, 0), (0, 0, 270))):
            Circle(SKETCH1_R_2, mode=Mode.SUBTRACT)
        with Locations(Location((-83.697472848, 22.426670258, 0), (0, 0, 270))):
            Circle(SKETCH1_R_2, mode=Mode.SUBTRACT)
        with Locations(Location((-75.041101238, 43.325, 0), (0, 0, 270))):
            Circle(SKETCH1_R_2, mode=Mode.SUBTRACT)
        with Locations(Location((-61.27080259, 61.27080259, 0), (0, 0, 270))):
            Circle(SKETCH1_R_2, mode=Mode.SUBTRACT)
        with Locations(Location((-43.325, 75.041101238, 0), (0, 0, 270))):
            Circle(SKETCH1_R_2, mode=Mode.SUBTRACT)
        with Locations(Location((-22.426670258, 83.697472848, 0), (0, 0, 270))):
            Circle(SKETCH1_R_2, mode=Mode.SUBTRACT)
        with Locations(Location((0, 86.65, 0), (0, 0, 270))):
            Circle(SKETCH1_R_2, mode=Mode.SUBTRACT)
        with Locations(Location((22.426670258, 83.697472848, 0), (0, 0, 270))):
            Circle(SKETCH1_R_2, mode=Mode.SUBTRACT)
        with Locations(Location((43.325, 75.041101238, 0), (0, 0, 270))):
            Circle(SKETCH1_R_2, mode=Mode.SUBTRACT)
        with Locations(Location((61.27080259, 61.27080259, 0), (0, 0, 270))):
            Circle(SKETCH1_R_2, mode=Mode.SUBTRACT)
        with Locations(Location((75.041101238, 43.325, 0), (0, 0, 270))):
            Circle(SKETCH1_R_2, mode=Mode.SUBTRACT)
        with Locations(Location((83.697472848, 22.426670258, 0), (0, 0, 270))):
            Circle(SKETCH1_R_2, mode=Mode.SUBTRACT)
        with Locations(Location((0, 222.5, 0), (0, 0, 270))):
            Circle(SKETCH1_R_4, mode=Mode.SUBTRACT)
        with Locations(Location((192.690652342, 111.25, 0), (0, 0, 270))):
            Circle(SKETCH1_R_4, mode=Mode.SUBTRACT)
        with Locations(Location((192.690652342, -111.25, 0), (0, 0, 270))):
            Circle(SKETCH1_R_4, mode=Mode.SUBTRACT)
        with Locations(Location((0, -222.5, 0), (0, 0, 270))):
            Circle(SKETCH1_R_4, mode=Mode.SUBTRACT)
        with Locations(Location((-192.690652342, -111.25, 0), (0, 0, 270))):
            Circle(SKETCH1_R_4, mode=Mode.SUBTRACT)
        with Locations(Location((-192.690652342, 111.25, 0), (0, 0, 270))):
            Circle(SKETCH1_R_4, mode=Mode.SUBTRACT)
    extrude(amount=BOSS_EXTRUDE1_DEPTH, both=True)


solid = part.part
